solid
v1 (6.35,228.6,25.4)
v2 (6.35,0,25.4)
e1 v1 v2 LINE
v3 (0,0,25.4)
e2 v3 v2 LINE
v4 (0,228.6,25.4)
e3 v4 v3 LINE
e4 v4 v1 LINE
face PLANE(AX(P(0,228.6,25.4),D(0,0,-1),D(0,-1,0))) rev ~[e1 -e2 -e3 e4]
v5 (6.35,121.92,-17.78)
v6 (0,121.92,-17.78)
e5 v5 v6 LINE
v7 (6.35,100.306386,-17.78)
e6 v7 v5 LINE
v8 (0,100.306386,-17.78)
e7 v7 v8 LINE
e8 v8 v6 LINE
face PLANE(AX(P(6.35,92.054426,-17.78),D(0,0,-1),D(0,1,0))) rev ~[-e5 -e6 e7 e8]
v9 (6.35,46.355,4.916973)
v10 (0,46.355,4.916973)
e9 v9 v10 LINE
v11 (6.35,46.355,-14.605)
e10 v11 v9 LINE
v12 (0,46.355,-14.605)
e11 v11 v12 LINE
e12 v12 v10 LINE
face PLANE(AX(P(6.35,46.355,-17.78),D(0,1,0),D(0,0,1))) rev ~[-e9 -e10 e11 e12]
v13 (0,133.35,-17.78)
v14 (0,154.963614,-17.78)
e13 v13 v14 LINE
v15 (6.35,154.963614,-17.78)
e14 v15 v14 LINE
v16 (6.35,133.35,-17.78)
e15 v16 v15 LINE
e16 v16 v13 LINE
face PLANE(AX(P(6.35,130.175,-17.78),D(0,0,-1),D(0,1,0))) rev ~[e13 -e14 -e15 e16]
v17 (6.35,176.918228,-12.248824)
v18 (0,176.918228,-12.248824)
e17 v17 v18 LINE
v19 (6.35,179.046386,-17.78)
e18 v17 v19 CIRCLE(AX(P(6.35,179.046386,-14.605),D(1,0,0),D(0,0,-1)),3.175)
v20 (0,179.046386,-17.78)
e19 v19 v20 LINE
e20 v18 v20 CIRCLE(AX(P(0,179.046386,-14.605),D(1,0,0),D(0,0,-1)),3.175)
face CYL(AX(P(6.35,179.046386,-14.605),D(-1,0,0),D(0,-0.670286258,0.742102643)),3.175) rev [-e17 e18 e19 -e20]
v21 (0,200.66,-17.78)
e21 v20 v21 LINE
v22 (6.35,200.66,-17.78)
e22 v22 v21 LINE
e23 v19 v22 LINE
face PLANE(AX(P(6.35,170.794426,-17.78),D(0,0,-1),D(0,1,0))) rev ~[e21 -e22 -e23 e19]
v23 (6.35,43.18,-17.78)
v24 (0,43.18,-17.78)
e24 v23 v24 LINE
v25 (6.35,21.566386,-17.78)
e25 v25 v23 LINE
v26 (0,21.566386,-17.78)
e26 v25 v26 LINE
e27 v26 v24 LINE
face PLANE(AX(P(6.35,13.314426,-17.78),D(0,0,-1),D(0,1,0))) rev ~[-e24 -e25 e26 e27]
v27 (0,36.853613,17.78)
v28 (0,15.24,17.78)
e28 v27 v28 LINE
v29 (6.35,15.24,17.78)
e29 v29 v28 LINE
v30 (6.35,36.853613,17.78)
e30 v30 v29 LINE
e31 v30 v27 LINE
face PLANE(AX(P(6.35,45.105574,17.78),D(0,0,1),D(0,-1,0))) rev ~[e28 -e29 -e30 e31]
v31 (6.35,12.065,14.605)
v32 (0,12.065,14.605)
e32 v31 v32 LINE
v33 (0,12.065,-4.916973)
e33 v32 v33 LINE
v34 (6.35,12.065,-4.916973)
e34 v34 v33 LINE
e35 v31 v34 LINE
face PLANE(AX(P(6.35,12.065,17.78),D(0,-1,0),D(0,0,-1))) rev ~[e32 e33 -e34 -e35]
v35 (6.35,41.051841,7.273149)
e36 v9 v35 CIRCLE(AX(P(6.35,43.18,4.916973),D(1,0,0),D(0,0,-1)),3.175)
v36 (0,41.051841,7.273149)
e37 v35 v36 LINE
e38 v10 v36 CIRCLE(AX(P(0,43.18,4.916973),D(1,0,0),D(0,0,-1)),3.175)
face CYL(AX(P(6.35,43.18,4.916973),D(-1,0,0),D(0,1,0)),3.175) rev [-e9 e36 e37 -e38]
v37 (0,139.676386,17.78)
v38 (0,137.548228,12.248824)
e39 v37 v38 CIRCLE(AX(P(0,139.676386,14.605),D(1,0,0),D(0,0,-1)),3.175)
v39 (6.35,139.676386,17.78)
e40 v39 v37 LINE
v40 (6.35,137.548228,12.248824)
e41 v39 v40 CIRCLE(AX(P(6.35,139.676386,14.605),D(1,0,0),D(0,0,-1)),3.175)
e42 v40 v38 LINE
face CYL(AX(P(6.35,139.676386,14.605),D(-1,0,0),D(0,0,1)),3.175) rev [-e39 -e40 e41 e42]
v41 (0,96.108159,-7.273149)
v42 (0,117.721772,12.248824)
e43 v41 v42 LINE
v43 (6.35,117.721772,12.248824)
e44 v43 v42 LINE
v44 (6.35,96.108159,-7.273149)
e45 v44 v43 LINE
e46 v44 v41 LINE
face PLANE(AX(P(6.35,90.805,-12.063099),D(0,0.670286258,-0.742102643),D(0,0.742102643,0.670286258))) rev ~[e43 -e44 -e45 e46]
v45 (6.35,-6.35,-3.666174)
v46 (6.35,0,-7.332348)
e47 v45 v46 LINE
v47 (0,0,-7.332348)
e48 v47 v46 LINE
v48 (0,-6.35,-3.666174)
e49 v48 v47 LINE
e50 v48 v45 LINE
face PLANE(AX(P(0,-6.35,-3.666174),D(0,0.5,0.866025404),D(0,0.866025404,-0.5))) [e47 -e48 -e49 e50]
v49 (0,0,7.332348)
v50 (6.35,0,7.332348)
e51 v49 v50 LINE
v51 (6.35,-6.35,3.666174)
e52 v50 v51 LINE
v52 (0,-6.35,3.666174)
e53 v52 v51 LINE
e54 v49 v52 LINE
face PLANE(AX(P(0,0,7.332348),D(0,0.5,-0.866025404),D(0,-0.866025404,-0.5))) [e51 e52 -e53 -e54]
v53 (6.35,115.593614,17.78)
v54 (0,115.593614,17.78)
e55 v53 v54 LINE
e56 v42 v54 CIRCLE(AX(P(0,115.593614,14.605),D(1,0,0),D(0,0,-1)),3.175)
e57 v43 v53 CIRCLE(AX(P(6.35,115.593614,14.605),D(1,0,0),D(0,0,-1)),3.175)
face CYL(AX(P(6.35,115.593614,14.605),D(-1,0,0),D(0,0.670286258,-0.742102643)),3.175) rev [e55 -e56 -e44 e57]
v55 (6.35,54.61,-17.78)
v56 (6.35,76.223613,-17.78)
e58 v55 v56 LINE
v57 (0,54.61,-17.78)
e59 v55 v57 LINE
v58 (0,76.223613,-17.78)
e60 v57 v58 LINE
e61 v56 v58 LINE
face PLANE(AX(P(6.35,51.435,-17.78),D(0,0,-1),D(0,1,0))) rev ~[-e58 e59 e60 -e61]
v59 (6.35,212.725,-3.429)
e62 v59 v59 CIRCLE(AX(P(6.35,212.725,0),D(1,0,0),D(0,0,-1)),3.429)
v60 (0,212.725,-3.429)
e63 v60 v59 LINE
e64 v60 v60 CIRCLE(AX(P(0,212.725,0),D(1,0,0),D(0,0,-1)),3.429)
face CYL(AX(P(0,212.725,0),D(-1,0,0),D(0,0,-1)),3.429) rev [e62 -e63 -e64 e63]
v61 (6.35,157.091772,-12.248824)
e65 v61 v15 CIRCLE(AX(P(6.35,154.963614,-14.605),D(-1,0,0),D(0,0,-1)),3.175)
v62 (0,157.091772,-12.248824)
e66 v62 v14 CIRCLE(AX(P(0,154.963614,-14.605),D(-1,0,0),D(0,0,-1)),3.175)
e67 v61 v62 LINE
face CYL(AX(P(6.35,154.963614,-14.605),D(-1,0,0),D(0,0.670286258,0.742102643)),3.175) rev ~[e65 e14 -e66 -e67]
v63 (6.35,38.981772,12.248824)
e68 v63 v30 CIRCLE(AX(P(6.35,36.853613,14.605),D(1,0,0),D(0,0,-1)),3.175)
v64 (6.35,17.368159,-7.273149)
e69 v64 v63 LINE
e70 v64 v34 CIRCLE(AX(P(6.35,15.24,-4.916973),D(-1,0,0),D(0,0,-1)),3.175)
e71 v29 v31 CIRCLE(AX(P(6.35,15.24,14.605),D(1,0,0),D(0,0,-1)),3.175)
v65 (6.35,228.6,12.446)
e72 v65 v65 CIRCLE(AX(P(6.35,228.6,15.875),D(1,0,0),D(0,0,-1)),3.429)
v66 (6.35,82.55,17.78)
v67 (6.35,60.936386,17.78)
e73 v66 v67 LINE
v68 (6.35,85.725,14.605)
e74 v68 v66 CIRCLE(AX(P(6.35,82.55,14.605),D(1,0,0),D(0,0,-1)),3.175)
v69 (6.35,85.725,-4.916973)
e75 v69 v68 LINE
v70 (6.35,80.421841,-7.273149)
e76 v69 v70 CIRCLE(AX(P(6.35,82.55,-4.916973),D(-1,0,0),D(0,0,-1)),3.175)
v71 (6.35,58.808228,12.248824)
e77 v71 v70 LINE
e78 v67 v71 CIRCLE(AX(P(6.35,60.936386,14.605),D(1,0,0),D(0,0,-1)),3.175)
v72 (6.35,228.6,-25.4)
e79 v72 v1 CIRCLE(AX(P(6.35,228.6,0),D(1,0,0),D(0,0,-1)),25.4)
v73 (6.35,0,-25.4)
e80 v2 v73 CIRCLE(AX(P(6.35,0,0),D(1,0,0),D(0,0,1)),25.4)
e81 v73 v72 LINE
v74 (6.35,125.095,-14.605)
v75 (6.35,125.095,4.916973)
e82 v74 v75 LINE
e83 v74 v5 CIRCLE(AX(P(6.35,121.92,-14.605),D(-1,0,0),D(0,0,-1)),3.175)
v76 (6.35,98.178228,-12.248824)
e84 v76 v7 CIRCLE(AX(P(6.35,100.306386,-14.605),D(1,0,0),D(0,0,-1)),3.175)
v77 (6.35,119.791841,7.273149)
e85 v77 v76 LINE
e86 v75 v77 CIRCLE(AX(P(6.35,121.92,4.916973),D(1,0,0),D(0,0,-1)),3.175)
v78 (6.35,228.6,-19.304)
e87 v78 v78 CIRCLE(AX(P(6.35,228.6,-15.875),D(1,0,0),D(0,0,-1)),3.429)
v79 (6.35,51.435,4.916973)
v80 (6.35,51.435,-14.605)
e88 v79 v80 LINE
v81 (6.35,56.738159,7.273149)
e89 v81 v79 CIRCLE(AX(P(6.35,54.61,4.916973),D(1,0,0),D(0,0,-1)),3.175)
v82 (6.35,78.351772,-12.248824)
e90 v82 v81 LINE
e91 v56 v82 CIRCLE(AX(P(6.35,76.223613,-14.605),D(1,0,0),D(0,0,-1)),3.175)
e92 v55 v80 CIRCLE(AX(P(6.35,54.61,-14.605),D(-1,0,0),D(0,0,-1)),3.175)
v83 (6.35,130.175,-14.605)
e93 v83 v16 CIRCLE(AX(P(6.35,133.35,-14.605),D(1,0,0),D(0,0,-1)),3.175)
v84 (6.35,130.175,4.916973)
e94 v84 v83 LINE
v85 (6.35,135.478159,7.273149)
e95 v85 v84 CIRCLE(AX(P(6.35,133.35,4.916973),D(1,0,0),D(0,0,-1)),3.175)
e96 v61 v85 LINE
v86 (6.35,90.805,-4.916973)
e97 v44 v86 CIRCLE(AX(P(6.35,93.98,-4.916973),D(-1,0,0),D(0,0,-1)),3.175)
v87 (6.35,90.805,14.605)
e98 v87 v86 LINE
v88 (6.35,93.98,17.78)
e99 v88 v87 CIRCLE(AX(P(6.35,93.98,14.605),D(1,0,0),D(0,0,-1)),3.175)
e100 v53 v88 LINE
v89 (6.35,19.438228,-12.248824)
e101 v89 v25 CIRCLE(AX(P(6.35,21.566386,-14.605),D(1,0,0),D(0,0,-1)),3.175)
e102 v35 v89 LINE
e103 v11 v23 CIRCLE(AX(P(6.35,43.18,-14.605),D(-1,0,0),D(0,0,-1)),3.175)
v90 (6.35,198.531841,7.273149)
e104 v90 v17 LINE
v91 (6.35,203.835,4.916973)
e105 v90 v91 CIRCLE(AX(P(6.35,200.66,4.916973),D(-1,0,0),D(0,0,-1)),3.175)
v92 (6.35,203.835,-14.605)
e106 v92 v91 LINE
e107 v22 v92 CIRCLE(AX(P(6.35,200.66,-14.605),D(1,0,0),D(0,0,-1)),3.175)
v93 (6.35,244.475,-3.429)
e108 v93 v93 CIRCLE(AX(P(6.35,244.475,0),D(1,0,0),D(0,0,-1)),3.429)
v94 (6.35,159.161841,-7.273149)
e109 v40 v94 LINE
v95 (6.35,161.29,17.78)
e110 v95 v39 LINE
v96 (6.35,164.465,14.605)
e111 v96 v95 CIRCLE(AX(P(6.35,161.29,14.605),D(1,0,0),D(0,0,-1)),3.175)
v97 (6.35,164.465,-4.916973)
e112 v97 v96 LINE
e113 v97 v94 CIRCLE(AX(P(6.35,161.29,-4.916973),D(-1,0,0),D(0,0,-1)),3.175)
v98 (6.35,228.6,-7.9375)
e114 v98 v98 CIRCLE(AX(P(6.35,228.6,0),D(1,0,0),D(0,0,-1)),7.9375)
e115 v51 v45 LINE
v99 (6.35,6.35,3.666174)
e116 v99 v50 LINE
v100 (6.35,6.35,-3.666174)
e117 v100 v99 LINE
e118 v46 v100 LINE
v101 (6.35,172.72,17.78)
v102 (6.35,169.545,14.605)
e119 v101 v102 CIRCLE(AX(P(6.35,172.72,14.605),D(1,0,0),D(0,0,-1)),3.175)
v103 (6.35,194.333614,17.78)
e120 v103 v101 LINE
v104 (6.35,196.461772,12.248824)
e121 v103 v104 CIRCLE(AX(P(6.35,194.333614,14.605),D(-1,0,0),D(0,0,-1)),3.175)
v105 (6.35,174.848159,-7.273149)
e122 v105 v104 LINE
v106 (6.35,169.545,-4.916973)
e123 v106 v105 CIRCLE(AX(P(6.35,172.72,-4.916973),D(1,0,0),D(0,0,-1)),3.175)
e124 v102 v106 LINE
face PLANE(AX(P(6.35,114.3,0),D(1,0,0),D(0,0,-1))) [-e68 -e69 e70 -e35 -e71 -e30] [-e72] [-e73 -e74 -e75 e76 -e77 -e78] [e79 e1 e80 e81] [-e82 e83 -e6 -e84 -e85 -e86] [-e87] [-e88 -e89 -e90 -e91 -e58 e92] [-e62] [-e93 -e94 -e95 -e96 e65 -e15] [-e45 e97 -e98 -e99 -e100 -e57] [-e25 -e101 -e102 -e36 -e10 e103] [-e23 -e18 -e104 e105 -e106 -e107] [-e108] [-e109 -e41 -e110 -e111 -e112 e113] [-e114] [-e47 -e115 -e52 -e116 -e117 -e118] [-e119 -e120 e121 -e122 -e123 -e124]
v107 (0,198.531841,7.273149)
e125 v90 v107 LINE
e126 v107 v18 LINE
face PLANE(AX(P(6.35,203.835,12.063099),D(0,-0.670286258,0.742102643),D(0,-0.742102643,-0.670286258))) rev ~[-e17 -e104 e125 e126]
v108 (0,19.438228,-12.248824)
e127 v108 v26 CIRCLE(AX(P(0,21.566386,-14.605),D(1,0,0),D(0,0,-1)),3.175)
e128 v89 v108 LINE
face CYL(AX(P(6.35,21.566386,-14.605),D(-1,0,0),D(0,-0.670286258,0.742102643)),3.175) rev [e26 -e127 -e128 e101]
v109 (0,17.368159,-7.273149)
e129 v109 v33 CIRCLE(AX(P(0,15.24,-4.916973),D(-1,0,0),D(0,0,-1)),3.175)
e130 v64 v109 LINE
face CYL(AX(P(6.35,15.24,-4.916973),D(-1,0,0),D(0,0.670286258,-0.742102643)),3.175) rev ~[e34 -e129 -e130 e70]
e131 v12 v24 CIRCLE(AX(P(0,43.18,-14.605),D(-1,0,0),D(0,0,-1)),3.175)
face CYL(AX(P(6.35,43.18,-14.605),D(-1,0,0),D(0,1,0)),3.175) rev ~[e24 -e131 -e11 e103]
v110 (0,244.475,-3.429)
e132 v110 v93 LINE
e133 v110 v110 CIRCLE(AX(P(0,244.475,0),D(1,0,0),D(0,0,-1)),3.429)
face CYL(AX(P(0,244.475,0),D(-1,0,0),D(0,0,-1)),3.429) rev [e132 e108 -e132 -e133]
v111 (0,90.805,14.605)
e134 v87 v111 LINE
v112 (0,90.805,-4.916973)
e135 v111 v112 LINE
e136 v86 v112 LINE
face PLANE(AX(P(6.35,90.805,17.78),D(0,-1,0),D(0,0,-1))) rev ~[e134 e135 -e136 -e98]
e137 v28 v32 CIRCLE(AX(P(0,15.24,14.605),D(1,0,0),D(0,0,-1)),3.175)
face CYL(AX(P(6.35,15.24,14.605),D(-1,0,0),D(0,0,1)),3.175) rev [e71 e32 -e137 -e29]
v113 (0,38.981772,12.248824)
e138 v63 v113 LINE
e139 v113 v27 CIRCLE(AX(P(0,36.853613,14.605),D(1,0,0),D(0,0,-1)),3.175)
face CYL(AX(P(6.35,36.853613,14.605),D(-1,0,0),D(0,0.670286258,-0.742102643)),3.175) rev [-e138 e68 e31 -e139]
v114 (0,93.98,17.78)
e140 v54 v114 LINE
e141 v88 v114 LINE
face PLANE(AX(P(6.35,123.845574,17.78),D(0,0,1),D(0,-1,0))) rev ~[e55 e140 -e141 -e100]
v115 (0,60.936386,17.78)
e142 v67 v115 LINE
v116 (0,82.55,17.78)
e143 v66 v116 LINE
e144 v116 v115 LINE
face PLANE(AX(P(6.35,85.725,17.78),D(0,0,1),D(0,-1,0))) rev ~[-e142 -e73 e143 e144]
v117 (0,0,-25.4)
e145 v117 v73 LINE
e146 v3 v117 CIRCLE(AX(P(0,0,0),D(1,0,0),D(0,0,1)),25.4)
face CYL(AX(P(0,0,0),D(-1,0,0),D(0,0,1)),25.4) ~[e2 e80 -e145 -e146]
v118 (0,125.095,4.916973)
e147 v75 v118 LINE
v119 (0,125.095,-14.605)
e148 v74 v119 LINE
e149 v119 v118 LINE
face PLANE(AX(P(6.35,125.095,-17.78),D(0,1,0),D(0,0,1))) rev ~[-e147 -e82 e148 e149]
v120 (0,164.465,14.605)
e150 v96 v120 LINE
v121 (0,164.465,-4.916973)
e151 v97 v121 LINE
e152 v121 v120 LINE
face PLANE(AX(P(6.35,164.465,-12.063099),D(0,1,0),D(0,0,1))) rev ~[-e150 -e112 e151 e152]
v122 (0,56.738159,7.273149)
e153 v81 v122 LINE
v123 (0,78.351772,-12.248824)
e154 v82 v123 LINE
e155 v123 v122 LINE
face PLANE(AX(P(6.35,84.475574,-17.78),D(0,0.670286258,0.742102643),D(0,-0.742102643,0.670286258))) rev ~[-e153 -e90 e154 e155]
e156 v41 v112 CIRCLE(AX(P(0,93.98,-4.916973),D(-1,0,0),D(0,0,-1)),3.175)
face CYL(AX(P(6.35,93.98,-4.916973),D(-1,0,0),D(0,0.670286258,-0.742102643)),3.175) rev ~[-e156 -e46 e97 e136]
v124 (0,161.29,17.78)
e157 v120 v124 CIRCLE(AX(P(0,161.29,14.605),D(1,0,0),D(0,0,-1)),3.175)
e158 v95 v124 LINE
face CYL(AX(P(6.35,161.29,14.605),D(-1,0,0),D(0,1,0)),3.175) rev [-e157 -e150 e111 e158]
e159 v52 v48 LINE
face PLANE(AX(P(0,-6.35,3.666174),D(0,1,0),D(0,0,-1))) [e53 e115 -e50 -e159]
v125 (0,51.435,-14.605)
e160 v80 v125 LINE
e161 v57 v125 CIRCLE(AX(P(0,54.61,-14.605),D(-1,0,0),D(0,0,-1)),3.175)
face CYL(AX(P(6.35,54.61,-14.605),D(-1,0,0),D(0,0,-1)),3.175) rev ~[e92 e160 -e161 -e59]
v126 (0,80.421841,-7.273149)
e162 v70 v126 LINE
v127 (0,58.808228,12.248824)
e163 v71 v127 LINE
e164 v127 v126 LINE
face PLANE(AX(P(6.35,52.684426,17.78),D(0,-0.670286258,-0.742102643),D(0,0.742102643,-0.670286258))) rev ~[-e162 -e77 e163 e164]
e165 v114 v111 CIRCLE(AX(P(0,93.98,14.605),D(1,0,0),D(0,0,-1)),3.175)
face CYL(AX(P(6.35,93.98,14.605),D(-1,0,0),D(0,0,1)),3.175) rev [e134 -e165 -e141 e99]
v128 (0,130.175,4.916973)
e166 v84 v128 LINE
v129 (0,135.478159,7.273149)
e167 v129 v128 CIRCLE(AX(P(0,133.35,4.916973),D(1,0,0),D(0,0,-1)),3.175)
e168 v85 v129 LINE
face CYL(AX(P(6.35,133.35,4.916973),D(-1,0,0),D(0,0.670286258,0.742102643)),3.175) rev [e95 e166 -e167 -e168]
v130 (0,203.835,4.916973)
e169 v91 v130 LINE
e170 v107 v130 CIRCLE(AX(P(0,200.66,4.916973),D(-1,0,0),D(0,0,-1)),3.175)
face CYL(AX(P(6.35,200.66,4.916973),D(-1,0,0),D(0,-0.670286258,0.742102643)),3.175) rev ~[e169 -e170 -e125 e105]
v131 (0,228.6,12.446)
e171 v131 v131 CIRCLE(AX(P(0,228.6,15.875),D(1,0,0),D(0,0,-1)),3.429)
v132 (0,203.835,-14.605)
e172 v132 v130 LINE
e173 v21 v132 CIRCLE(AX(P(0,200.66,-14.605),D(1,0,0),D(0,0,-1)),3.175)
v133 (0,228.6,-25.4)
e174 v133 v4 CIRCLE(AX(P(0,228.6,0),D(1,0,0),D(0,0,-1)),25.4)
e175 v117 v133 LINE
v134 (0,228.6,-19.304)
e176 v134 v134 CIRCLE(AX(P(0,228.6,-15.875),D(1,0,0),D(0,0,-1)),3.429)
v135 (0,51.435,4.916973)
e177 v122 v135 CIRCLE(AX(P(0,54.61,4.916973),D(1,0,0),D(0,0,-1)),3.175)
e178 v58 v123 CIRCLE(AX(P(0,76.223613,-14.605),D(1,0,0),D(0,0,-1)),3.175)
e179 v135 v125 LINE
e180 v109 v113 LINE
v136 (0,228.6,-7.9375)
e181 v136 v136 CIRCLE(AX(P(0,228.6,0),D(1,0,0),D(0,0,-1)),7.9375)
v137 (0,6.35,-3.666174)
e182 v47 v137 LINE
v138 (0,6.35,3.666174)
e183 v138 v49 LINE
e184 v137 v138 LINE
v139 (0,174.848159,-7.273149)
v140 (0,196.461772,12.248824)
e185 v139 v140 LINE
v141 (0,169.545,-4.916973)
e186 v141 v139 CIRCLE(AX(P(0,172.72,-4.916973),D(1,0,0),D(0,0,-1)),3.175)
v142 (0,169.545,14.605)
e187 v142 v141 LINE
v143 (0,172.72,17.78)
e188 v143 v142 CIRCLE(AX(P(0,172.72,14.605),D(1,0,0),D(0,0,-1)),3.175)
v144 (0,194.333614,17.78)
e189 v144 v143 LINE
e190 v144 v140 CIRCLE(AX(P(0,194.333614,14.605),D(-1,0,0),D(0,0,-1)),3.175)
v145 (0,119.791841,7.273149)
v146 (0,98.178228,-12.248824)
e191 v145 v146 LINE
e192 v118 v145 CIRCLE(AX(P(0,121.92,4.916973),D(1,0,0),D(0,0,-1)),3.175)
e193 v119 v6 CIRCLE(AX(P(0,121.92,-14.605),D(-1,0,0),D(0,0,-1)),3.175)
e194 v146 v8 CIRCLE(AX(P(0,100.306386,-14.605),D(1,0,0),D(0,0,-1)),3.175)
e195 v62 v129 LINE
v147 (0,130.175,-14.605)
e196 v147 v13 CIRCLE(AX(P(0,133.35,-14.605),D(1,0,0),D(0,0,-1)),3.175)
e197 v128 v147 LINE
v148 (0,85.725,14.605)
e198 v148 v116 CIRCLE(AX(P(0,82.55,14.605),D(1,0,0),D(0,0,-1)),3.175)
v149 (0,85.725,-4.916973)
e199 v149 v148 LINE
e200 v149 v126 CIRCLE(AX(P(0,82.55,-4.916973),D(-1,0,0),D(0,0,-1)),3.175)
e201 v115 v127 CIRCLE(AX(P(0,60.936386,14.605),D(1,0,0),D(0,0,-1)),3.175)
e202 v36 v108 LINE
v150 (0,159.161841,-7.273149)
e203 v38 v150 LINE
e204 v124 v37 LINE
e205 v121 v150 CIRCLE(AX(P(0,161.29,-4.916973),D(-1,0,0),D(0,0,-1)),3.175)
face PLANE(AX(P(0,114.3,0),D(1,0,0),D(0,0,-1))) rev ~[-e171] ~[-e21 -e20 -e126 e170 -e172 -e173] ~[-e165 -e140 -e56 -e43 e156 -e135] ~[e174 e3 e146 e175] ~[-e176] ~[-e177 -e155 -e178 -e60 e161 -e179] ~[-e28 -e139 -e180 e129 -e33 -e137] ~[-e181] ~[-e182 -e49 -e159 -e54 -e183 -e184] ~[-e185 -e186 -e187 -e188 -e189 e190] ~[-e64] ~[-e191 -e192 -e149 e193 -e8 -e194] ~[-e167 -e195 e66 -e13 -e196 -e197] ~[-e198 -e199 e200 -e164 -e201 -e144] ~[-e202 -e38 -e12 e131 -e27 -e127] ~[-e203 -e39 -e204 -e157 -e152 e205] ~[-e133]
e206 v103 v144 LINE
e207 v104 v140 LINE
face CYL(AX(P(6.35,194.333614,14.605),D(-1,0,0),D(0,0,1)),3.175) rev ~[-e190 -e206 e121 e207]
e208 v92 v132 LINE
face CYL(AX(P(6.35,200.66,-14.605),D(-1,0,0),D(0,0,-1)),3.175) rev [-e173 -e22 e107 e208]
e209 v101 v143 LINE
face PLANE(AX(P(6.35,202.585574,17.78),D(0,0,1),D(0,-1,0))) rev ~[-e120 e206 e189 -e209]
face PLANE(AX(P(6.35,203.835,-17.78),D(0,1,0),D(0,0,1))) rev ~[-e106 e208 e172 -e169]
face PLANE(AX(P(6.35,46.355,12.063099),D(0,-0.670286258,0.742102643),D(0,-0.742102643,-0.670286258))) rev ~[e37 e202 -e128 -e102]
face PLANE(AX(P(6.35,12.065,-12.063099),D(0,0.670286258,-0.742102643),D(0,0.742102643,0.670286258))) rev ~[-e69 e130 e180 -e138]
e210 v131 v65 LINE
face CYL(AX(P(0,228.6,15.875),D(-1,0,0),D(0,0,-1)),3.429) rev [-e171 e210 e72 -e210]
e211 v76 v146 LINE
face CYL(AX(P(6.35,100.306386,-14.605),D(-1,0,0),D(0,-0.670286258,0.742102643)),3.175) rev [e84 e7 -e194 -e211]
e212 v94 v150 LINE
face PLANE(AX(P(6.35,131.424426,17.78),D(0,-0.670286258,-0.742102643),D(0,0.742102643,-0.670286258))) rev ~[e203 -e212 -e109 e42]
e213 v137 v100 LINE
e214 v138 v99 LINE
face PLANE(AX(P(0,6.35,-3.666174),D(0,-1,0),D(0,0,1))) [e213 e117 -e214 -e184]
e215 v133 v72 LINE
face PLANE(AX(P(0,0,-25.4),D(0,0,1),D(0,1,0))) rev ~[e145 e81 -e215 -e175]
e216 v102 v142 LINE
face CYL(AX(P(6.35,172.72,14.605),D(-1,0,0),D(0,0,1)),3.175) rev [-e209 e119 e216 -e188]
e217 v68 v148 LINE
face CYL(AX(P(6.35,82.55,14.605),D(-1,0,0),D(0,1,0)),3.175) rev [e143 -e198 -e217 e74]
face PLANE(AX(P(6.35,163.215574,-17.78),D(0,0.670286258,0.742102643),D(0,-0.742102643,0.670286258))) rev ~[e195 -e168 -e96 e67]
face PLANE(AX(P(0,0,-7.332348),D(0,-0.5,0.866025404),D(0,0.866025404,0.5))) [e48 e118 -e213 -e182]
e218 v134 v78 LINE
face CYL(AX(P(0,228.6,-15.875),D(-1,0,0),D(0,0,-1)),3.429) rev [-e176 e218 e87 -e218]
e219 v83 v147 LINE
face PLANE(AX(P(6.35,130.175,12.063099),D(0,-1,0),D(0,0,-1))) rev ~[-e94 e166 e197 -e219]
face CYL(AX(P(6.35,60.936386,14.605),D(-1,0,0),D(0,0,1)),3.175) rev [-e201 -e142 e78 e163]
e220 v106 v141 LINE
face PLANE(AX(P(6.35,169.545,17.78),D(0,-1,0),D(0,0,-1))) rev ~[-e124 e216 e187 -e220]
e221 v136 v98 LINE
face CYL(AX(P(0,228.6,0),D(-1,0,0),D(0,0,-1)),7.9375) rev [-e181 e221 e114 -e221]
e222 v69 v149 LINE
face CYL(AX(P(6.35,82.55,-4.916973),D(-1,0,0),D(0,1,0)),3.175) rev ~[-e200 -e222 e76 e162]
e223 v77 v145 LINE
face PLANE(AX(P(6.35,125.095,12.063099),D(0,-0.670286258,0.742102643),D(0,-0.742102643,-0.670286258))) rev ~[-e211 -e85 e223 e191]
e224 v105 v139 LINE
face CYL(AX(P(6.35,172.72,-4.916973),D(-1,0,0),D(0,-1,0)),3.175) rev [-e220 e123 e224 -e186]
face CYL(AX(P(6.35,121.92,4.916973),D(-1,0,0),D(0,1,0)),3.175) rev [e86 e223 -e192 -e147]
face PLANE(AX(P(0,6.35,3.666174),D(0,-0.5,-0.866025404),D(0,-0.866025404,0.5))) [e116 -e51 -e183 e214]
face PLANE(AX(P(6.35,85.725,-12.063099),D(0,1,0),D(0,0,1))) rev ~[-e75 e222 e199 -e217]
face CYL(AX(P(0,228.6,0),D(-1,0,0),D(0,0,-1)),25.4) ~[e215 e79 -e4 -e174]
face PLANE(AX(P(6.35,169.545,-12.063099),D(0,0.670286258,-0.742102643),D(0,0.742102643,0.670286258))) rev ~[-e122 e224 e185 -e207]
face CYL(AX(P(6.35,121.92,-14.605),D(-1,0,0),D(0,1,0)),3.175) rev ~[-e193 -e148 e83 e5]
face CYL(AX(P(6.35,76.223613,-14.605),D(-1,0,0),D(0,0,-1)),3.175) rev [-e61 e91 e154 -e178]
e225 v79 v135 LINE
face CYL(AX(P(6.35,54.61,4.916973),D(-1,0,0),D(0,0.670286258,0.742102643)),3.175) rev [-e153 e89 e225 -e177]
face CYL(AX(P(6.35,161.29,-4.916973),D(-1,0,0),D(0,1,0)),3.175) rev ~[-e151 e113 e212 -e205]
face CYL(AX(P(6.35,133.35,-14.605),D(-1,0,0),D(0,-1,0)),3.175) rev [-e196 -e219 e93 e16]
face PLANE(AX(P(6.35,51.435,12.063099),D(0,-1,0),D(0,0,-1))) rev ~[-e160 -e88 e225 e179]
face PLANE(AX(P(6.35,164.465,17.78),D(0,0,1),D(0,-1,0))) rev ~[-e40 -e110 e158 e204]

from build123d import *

# Parameters (mm, degrees)
SKETCH1_R           = 7.9375
SKETCH1_R_2         = 3.429
BOSS_EXTRUDE1_DEPTH = 6.35
CUT_EXTRUDE2_DEPTH  = 7.35
FILLET2_R           = 3.175


with BuildPart() as part:
    # Sketch1 → Boss-Extrude1 (new body)
    with BuildSketch(Plane(origin=(0, 0, 0), x_dir=(0, 0, -1), z_dir=(1, 0, 0))):
        with BuildLine():
            Line((-25.4, 228.6), (-25.4, 0))
            ThreePointArc((-25.4, 0), (0, -25.4), (25.4, 0))
            Line((25.4, 0), (25.4, 228.6))
            ThreePointArc((25.4, 228.6), (0, 254), (-25.4, 228.6))
        make_face()
        with Locations((0, 228.6)):
            Circle(SKETCH1_R, mode=Mode.SUBTRACT)
        with Locations((0, 212.725)):
            Circle(SKETCH1_R_2, mode=Mode.SUBTRACT)
        with Locations((-15.875, 228.6)):
            Circle(SKETCH1_R_2, mode=Mode.SUBTRACT)
        with Locations((0, 244.475)):
            Circle(SKETCH1_R_2, mode=Mode.SUBTRACT)
        with Locations((15.875, 228.6)):
            Circle(SKETCH1_R_2, mode=Mode.SUBTRACT)
        Polygon((7.332348419, 0), (3.666174209, 6.35), (-3.666174209, 6.35), (-7.332348419, 0), (-3.666174209, -6.35), (3.666174209, -6.35), align=None, mode=Mode.SUBTRACT)
    extrude(amount=BOSS_EXTRUDE1_DEPTH)

    # Sketch3 → Cut-Extrude2 (cut, through all)
    with BuildSketch(Plane(origin=(6.35, 0, 0), x_dir=(0, 0, -1), z_dir=(1, 0, 0))):
        Polygon((-12.06309933, 203.835), (17.78, 170.794425741), (17.78, 203.835), align=None)
        Polygon((-17.78, 202.585574259), (-17.78, 169.545), (12.06309933, 169.545), align=None)
        Polygon((12.063099331, 164.465), (-17.78, 164.465), (-17.78, 131.424425736), align=None)
        Polygon((17.78, 163.215574258), (-12.063099331, 130.174999995), (17.78, 130.174999995), align=None)
        Polygon((12.063099331, 90.804999989), (-17.78, 123.845574253), (-17.78, 90.804999989), align=None)
        Polygon((17.78, 125.094999995), (-12.063099331, 125.094999995), (17.78, 92.054425731), align=None)
        Polygon((17.78, 51.434999984), (17.78, 84.475574248), (-12.063099331, 51.434999984), align=None)
        Polygon((12.063099331, 85.724999989), (-17.78, 85.724999989), (-17.78, 52.684425726), align=None)
        Polygon((17.78, 46.354999984), (-12.063099329, 46.354999984), (17.78, 13.31442574), align=None)
        Polygon((12.063099329, 12.065), (-17.78, 45.105574244), (-17.78, 12.065), align=None)
    extrude(amount=-CUT_EXTRUDE2_DEPTH, mode=Mode.SUBTRACT)

    # Fillet2
    fillet2_edges = [part.edges().sort_by_distance(p)[0] for p in [
        (3.175, 52.684425726, 17.78),
        (3.175, 85.724999989, 17.78),
        (3.175, 46.354999984, 12.063099329),
        (3.175, 46.354999984, -17.78),
        (3.175, 13.31442574, -17.78),
        (3.175, 169.545, -12.06309933),
        (3.175, 169.545, 17.78),
        (3.175, 202.585574259, 17.78),
        (3.175, 164.465, -12.063099331),
        (3.175, 131.424425736, 17.78),
        (3.175, 164.465, 17.78),
        (3.175, 130.174999995, 12.063099331),
        (3.175, 163.215574258, -17.78),
        (3.175, 130.174999995, -17.78),
        (3.175, 90.804999989, -12.063099331),
        (3.175, 90.804999989, 17.78),
        (3.175, 123.845574253, 17.78),
        (3.175, 12.065, 17.78),
        (3.175, 45.105574244, 17.78),
        (3.175, 12.065, -12.063099329),
        (3.175, 203.835, 12.06309933),
        (3.175, 203.835, -17.78),
        (3.175, 170.794425741, -17.78),
        (3.175, 125.094999995, 12.063099331),
        (3.175, 125.094999995, -17.78),
        (3.175, 92.054425731, -17.78),
        (3.175, 51.434999984, 12.063099331),
        (3.175, 84.475574248, -17.78),
        (3.175, 51.434999984, -17.78),
        (3.175, 85.724999989, -12.063099331),
    ]]
    fillet(fillet2_edges, radius=FILLET2_R)


solid = part.part
